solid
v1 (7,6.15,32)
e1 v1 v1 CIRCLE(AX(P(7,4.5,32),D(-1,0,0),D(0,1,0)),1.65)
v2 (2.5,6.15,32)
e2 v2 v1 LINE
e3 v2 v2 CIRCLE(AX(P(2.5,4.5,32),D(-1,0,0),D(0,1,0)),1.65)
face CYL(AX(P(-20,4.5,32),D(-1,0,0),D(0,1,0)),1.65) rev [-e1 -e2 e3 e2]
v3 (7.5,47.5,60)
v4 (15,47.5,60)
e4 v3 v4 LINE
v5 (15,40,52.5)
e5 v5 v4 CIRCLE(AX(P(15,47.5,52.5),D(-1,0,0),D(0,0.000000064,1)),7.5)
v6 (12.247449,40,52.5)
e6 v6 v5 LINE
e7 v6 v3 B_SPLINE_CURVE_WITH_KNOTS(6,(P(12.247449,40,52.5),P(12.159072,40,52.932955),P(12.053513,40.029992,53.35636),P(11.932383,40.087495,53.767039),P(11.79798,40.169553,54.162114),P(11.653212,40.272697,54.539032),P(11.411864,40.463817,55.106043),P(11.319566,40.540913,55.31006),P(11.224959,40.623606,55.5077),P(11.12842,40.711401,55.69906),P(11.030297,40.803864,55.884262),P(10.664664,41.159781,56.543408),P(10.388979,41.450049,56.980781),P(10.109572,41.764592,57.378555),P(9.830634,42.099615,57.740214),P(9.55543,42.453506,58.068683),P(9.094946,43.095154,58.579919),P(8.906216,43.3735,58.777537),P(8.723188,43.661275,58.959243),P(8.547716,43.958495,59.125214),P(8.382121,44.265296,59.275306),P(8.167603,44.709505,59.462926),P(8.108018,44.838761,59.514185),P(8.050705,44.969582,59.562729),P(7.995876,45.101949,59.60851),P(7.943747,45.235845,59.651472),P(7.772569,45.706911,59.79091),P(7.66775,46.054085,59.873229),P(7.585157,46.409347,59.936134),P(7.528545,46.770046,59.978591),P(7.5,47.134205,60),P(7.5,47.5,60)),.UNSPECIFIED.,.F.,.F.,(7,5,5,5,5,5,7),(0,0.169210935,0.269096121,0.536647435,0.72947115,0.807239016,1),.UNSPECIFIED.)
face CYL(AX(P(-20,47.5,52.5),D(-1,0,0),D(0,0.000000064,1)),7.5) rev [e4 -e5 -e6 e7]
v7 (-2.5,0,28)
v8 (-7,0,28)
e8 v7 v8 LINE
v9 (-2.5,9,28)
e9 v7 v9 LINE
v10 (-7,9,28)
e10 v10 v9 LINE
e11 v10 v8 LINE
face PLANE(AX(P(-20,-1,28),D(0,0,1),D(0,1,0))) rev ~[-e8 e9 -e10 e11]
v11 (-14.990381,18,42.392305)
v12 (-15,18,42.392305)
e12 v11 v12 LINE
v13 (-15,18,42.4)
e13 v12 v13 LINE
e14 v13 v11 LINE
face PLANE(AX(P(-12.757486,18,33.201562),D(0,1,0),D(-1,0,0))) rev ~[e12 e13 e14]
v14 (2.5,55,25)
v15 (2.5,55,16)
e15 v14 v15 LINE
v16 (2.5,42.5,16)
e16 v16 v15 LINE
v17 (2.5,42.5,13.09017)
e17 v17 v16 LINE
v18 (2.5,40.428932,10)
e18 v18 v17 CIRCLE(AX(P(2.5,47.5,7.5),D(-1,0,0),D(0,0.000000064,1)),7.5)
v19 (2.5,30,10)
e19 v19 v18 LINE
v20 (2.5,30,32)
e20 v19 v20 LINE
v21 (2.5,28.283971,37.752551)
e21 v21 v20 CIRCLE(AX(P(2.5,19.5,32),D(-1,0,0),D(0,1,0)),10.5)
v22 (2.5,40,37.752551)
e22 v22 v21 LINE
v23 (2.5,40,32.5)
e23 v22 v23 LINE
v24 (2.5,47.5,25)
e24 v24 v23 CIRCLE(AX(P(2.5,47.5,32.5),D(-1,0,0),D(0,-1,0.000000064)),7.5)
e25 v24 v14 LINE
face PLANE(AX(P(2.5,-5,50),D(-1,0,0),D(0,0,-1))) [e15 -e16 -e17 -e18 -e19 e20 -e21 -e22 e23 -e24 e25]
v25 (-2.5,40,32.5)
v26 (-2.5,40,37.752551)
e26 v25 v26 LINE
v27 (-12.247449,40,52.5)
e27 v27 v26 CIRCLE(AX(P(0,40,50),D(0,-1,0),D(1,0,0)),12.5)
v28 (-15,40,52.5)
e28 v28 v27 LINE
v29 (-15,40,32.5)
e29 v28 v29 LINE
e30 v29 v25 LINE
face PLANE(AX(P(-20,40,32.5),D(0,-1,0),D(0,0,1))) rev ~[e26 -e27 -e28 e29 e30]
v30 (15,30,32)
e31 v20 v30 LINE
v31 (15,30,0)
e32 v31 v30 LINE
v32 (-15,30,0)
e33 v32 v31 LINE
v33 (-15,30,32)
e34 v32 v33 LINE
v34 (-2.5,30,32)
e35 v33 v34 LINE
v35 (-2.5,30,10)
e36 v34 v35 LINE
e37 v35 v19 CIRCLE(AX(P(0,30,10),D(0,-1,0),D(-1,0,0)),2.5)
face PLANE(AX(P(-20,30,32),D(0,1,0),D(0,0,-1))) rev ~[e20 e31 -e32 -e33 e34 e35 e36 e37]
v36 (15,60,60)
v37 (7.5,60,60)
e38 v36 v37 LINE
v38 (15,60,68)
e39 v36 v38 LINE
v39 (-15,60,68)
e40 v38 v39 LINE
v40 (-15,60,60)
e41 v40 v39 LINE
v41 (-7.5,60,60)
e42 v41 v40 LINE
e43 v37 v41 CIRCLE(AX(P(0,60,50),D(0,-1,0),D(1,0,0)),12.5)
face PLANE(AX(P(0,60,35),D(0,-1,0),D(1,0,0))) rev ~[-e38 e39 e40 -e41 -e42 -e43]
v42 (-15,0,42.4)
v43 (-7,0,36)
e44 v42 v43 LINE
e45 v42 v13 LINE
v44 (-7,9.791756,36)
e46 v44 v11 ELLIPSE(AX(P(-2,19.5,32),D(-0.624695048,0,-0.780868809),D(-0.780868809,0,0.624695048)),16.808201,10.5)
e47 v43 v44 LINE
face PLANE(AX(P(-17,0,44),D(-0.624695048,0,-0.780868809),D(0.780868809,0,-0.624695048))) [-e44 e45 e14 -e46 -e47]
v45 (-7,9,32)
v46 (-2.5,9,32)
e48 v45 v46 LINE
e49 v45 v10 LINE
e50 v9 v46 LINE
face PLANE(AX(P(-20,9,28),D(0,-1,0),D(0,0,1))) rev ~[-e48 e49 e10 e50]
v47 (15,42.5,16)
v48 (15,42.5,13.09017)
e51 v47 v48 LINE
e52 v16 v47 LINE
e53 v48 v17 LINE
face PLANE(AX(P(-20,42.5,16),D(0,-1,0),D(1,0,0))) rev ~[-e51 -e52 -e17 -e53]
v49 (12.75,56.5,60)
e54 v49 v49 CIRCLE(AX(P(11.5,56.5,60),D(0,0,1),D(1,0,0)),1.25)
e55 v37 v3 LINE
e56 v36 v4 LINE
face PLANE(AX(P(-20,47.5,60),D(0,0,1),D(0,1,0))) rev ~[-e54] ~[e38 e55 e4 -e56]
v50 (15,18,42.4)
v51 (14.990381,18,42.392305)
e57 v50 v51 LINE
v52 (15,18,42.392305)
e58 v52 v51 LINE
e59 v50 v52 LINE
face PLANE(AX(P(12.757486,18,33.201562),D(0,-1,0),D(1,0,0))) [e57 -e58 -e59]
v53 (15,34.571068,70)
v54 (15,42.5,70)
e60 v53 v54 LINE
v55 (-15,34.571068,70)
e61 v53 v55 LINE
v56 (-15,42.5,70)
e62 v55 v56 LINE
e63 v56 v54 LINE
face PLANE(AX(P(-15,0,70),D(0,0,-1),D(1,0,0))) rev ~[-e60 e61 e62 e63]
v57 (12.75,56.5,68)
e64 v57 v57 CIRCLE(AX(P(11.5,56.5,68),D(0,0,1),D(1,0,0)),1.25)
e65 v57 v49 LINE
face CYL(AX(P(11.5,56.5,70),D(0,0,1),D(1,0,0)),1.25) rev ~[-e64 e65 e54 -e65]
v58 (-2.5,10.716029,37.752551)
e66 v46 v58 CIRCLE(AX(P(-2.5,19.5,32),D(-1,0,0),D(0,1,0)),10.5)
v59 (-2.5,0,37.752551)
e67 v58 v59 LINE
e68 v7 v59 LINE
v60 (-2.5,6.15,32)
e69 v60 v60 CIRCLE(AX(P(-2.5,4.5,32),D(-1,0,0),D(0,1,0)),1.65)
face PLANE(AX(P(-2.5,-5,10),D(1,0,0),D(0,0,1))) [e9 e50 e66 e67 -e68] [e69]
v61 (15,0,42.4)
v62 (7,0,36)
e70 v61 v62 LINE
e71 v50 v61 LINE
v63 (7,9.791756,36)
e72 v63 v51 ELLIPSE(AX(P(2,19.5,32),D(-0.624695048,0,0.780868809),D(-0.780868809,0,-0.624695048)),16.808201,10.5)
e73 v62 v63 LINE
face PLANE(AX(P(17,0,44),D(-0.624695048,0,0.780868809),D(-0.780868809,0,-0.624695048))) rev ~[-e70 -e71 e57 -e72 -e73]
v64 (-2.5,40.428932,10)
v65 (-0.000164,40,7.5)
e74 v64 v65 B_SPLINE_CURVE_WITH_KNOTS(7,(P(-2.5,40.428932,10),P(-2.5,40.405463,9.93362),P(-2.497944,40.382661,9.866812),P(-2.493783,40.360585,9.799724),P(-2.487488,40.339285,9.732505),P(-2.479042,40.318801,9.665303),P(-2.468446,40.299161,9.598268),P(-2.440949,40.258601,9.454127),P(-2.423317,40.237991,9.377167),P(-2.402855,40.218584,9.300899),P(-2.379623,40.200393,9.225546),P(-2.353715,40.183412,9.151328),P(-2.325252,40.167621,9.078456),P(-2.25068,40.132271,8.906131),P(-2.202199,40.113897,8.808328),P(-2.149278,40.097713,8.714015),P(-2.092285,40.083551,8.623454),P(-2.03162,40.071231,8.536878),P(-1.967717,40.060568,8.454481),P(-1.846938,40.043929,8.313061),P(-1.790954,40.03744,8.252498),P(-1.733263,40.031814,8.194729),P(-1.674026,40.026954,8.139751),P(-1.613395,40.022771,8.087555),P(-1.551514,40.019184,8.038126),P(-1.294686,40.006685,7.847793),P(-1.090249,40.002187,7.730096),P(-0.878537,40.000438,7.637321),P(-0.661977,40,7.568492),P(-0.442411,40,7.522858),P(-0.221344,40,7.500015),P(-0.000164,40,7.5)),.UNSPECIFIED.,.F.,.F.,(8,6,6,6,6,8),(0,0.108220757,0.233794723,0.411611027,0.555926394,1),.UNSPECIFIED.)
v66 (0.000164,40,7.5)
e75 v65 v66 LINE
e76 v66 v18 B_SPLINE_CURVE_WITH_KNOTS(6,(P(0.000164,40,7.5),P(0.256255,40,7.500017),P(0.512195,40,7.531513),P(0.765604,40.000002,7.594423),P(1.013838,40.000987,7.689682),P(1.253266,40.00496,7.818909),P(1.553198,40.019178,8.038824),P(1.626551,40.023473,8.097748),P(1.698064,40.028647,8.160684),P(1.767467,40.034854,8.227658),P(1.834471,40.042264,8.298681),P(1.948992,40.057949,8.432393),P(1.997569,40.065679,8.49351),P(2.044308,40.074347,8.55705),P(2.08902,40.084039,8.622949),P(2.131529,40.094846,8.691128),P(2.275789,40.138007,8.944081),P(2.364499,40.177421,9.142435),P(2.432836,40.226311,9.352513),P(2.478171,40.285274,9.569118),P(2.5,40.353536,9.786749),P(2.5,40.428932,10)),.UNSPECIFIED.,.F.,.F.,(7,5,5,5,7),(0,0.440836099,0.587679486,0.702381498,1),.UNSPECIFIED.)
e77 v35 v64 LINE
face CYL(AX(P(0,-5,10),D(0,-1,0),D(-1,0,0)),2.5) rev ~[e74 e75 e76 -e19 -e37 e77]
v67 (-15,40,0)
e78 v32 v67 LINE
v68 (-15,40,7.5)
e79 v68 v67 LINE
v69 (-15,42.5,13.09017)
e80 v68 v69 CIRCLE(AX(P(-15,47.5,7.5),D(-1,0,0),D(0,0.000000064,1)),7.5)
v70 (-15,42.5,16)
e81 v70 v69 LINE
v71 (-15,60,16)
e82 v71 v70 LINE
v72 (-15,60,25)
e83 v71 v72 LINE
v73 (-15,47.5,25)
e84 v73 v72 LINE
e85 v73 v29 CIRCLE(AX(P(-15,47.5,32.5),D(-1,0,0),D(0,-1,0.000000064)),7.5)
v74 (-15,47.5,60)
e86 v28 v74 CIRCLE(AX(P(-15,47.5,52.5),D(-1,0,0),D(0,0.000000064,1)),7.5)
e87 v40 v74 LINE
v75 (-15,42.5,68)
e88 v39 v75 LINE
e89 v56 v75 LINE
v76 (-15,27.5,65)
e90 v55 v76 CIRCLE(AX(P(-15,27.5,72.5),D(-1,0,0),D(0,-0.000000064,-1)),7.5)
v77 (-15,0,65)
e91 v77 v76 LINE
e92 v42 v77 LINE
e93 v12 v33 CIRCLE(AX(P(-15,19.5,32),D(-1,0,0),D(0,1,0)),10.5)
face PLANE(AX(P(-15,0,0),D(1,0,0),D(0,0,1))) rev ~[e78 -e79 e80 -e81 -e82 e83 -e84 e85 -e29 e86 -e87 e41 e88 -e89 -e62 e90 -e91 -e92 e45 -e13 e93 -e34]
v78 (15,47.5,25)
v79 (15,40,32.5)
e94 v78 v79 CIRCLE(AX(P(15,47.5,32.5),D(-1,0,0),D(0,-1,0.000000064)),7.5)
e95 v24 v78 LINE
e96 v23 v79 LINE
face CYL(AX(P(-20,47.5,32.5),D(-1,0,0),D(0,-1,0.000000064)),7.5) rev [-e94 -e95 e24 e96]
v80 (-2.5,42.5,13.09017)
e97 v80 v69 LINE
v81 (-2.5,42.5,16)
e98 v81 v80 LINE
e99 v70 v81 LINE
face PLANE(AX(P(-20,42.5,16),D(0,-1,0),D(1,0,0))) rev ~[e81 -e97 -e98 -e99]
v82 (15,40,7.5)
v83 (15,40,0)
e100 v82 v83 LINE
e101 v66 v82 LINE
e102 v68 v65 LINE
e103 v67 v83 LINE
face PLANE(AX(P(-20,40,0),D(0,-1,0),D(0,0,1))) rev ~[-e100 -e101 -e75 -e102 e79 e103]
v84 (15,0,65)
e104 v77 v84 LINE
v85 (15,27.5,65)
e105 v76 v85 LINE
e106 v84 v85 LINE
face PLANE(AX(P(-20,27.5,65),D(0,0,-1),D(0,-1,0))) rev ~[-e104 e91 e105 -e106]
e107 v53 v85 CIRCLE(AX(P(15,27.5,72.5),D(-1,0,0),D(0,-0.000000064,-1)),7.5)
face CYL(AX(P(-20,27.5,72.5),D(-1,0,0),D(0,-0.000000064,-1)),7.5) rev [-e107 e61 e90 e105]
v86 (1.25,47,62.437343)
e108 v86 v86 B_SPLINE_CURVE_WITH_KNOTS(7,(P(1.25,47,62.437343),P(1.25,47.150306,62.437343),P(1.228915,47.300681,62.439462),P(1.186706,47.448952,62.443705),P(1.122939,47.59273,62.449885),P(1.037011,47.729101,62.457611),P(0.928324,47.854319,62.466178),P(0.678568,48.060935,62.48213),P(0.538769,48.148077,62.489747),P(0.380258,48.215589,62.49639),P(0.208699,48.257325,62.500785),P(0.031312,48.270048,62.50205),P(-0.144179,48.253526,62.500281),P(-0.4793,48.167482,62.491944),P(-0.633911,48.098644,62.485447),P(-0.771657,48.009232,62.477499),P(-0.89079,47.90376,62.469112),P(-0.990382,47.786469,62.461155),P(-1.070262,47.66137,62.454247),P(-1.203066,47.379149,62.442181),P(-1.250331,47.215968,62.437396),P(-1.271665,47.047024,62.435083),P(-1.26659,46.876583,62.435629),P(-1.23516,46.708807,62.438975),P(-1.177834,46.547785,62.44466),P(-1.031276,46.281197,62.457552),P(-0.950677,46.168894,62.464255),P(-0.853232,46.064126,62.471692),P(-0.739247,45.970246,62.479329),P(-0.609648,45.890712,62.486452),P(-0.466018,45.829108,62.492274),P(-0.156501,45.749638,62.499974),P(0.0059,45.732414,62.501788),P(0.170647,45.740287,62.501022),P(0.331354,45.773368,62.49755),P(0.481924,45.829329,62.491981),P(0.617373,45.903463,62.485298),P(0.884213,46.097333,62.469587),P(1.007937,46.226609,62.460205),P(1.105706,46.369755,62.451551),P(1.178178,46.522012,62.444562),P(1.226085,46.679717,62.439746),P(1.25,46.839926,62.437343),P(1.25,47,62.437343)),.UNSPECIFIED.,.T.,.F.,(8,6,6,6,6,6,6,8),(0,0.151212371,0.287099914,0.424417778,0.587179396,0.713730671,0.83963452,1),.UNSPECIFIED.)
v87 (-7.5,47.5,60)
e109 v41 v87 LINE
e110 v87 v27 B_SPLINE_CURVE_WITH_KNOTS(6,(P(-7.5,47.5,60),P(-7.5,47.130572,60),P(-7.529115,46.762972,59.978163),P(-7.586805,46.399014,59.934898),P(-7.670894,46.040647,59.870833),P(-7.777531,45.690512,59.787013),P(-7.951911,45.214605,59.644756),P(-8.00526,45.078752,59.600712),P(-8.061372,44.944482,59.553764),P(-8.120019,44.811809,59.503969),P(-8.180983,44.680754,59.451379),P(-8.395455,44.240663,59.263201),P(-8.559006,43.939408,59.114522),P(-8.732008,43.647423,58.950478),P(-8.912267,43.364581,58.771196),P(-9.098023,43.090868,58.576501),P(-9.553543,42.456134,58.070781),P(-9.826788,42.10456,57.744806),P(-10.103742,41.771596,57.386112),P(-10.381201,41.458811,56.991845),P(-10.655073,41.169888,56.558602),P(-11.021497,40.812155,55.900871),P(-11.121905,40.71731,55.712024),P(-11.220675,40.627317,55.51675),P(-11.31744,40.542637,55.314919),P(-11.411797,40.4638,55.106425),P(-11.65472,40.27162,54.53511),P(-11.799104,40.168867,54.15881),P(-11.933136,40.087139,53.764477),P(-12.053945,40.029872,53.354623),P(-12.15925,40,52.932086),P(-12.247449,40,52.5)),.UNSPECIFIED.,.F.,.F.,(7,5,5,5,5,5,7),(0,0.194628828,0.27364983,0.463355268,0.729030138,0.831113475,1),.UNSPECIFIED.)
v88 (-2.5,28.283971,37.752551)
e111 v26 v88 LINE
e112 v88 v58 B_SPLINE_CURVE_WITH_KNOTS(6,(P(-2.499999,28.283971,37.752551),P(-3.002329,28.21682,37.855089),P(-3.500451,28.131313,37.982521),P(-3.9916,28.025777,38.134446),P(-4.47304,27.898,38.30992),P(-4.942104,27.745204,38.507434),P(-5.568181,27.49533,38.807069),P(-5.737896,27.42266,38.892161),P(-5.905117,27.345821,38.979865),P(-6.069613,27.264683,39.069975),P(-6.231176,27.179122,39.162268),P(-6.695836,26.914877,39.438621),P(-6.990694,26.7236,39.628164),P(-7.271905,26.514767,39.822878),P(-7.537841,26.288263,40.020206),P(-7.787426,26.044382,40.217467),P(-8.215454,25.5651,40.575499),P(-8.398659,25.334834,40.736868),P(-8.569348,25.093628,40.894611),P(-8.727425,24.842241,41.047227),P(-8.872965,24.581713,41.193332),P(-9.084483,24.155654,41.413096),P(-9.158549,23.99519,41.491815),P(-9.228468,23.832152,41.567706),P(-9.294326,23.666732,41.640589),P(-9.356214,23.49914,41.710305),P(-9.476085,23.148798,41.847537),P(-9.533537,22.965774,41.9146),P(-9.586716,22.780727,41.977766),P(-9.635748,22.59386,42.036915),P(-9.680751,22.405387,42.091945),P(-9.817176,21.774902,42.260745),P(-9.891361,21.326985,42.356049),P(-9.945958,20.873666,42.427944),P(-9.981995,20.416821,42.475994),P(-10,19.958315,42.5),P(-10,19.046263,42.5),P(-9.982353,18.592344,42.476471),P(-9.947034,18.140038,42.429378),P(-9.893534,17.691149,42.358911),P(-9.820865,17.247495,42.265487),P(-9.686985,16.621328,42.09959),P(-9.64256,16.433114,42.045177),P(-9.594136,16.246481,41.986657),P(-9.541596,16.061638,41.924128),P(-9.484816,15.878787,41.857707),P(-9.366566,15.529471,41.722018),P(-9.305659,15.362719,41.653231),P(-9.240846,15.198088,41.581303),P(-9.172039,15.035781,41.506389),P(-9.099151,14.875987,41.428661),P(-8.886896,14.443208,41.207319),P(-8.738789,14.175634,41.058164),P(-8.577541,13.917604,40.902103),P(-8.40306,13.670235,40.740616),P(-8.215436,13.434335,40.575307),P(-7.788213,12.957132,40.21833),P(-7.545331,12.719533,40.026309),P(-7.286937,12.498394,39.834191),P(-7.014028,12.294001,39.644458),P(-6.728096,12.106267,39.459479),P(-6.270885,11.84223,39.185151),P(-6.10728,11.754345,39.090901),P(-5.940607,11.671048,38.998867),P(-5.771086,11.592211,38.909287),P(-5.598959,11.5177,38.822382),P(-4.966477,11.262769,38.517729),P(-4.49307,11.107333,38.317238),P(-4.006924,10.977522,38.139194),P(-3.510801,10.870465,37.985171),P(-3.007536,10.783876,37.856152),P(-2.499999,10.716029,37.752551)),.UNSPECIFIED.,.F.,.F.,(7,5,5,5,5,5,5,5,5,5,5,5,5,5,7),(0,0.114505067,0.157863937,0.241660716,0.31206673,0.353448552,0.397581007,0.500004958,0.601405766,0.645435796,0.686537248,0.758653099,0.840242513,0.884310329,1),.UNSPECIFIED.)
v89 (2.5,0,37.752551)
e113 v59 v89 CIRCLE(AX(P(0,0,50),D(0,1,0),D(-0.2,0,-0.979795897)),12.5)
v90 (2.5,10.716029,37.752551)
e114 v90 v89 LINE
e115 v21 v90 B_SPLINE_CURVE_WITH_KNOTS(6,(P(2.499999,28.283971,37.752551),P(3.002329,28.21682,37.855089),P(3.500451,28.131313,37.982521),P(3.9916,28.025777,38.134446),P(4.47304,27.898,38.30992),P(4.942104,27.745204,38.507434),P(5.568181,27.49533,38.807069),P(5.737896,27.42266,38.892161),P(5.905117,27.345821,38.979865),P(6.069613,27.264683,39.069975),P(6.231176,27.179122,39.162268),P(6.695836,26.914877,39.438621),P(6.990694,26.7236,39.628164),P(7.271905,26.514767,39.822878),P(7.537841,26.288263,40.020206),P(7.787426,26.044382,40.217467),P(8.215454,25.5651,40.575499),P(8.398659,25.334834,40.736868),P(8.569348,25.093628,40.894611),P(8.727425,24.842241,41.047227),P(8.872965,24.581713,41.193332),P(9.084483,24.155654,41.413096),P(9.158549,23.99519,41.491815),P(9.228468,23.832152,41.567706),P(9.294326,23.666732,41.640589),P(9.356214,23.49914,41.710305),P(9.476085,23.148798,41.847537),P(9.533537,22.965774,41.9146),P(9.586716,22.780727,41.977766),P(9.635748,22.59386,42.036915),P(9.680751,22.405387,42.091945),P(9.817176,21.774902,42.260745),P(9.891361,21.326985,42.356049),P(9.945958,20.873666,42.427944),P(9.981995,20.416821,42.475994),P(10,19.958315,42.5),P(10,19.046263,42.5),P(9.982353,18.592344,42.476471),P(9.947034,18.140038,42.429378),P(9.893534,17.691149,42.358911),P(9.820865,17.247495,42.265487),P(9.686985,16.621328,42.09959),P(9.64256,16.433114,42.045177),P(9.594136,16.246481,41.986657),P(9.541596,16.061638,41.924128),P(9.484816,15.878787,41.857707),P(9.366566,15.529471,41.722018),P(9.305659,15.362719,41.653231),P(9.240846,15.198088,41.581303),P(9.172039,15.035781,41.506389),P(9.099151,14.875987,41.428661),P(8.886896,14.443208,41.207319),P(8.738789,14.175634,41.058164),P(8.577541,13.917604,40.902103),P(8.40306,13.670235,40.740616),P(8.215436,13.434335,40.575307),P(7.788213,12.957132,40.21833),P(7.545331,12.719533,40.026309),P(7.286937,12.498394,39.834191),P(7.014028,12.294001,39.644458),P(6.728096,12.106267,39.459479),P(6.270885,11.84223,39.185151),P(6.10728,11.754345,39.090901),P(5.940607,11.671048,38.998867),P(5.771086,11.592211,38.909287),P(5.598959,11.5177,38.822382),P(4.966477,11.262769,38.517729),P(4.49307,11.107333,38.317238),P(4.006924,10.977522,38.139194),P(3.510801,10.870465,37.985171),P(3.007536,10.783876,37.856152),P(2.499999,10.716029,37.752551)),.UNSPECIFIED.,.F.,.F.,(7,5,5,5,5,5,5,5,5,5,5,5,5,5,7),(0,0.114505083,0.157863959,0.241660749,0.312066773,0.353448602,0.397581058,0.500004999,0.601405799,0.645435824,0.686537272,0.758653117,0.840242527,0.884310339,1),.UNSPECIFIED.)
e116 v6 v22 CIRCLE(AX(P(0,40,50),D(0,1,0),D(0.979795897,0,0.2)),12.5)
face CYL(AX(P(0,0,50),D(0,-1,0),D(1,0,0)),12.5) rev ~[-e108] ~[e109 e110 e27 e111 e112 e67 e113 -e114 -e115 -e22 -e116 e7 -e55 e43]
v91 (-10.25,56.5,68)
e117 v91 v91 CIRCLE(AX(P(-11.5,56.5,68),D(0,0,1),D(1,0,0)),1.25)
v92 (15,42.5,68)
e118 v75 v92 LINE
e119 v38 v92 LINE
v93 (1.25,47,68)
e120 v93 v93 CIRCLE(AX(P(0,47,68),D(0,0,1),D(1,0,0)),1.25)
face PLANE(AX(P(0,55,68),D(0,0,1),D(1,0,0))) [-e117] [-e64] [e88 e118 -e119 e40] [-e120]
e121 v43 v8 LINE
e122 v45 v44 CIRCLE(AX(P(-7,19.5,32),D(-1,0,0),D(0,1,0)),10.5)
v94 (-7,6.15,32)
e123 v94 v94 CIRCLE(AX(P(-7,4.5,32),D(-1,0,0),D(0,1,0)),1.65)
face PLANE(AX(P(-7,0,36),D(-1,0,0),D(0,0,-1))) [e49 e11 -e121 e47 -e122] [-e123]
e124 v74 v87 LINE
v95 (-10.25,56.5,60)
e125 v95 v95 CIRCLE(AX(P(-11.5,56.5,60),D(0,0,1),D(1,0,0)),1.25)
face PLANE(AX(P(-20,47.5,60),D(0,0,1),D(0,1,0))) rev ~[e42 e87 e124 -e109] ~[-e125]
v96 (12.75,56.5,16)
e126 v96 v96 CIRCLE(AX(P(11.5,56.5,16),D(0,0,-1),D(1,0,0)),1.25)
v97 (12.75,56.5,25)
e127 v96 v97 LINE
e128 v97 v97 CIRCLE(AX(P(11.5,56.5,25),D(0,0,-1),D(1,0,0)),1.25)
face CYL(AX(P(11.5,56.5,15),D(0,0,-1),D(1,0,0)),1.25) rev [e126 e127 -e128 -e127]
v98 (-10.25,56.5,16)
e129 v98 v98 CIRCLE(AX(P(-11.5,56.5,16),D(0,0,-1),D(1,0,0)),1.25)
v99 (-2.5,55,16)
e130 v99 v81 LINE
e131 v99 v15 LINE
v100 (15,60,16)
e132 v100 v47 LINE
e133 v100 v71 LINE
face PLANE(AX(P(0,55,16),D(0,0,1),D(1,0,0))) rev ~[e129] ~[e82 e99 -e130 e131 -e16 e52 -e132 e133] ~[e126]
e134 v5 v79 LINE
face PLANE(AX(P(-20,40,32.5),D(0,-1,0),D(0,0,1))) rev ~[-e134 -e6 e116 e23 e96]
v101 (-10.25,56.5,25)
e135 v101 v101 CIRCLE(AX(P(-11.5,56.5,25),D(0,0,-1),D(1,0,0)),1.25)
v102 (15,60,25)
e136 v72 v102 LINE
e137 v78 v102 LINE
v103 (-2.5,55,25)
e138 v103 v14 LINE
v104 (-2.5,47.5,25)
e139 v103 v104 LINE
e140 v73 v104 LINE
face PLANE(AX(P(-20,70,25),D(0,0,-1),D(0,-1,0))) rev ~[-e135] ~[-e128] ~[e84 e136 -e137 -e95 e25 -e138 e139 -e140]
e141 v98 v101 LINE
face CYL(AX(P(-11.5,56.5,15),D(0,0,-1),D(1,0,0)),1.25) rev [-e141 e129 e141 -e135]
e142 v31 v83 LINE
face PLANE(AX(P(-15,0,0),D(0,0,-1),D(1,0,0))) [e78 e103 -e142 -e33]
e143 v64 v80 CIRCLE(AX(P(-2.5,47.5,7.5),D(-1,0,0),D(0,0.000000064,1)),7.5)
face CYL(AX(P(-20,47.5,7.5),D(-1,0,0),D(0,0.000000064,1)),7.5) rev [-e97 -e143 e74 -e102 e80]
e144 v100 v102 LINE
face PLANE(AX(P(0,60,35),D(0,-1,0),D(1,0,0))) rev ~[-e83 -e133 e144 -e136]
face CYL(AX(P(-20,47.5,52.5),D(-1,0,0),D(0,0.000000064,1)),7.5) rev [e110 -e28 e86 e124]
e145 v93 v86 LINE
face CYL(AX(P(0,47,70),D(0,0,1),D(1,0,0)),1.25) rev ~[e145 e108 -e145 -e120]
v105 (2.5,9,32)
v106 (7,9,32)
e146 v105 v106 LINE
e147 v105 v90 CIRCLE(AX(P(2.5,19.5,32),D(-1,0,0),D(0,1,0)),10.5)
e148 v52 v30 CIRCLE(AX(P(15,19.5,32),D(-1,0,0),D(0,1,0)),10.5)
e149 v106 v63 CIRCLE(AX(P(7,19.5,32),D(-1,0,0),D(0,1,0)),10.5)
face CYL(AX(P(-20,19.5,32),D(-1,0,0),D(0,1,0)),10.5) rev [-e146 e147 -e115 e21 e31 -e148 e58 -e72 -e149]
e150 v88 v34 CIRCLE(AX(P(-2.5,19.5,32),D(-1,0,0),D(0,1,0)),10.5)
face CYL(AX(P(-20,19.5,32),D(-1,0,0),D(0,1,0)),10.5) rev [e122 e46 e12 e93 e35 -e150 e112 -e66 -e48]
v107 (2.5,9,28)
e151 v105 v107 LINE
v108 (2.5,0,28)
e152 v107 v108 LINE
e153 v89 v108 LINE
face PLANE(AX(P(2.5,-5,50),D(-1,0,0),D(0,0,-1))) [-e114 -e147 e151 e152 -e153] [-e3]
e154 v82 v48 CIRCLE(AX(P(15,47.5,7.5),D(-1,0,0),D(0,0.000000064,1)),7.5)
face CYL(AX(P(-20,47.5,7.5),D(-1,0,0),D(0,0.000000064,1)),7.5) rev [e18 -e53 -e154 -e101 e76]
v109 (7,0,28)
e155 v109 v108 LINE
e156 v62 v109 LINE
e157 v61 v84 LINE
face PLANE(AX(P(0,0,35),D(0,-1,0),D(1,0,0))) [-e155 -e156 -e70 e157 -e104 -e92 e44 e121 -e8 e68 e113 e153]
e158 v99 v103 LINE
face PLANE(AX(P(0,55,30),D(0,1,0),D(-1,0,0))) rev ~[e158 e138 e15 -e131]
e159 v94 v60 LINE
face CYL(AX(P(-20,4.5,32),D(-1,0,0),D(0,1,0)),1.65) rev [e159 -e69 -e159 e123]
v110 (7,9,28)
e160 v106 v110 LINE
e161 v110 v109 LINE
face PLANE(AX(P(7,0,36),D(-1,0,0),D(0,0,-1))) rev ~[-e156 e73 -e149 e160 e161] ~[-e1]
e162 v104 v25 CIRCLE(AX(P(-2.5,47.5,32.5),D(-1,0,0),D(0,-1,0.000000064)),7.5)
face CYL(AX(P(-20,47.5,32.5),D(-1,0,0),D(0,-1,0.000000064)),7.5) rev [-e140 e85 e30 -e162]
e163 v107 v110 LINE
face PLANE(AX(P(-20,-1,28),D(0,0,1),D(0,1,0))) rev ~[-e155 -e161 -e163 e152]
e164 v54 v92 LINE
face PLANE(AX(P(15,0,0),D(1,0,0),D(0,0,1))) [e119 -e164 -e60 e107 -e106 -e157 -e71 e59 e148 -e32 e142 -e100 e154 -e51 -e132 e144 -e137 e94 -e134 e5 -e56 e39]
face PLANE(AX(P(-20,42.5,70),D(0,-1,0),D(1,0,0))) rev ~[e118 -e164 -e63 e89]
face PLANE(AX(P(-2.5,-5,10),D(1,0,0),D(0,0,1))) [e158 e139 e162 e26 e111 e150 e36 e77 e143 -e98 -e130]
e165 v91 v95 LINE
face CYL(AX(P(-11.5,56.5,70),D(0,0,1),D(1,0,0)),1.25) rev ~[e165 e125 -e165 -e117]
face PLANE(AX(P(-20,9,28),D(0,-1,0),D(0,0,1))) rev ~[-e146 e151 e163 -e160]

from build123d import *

# Parameters (mm, degrees)
SKETCH013_R                          = 1.25
EXTRUDE009_DEPTH                     = 12
SKETCH012_R                          = 1.25
EXTRUDE008_DEPTH                     = 15
SKETCH011_W                          = 40
SKETCH011_H                          = 25
EXTRUDE007_DEPTH                     = 5
SKETCH010_W                          = 40
SKETCH010_H                          = 25
EXTRUDE006_DEPTH                     = 2
EXTRUDE004_DEPTH                     = 18
EXTRUDE004_ONTO_SKETCH007_ROLL_ANGLE = 90
SKETCH006_AS_DRAWN_R                 = 12.5
EXTRUDE003_DEPTH                     = 65
EXTRUDE003_ONTO_SKETCH006_ROLL_ANGLE = 90
EXTRUDE002_DEPTH                     = 60
EXTRUDE002_ONTO_SKETCH005_ROLL_ANGLE = 90
SKETCH004_R                          = 1.65
EXTRUDE_DEPTH                        = 40
SKETCH_AS_DRAWN_W                    = 30
SKETCH_AS_DRAWN_H                    = 70
EXTRUDE001_DEPTH                     = 60
EXTRUDE001_ONTO_SKETCH_ROLL_ANGLE    = 90


with BuildPart() as extrude009:
    # Sketch013 → Extrude009 (new body)
    with BuildSketch(Plane.XY.offset(15)):
        with Locations((11.5, 56.5)):
            Circle(SKETCH013_R)
        with Locations((-11.5, 56.5)):
            Circle(SKETCH013_R)
    extrude(amount=EXTRUDE009_DEPTH)


with BuildPart() as extrude008:
    # Sketch012 → Extrude008 (new body)
    with BuildSketch(Plane.XY.offset(70)):
        with Locations((0, 47)):
            Circle(SKETCH012_R)
        with Locations((11.5, 56.5)):
            Circle(SKETCH012_R)
        with Locations((-11.5, 56.5)):
            Circle(SKETCH012_R)
    extrude(amount=-EXTRUDE008_DEPTH)


with BuildPart() as extrude007:
    # Sketch011 → Extrude007 (new body)
    with BuildSketch(Plane(origin=(0, 35, 16), x_dir=(1, 0, 0), z_dir=(0, 0, 1))):
        with Locations((0, 20)):
            Rectangle(SKETCH011_W, SKETCH011_H)
    extrude(amount=-EXTRUDE007_DEPTH)


with BuildPart() as extrude006:
    # Sketch010 → Extrude006 (new body)
    with BuildSketch(Plane(origin=(0, 35, 70), x_dir=(1, 0, 0), z_dir=(0, 0, 1))):
        with Locations((0, 20)):
            Rectangle(SKETCH010_W, SKETCH010_H)
    extrude(amount=-EXTRUDE006_DEPTH)


with BuildPart() as extrude004:
    # Sketch007 as drawn → Extrude004 (new)
    with BuildSketch(Plane.XY):
        Polygon((17, 44), (7, 36), (7, 25), (17, 25), align=None)
        Polygon((-17, 44), (-7, 36), (-7, 25), (-17, 25), align=None)
    extrude(amount=-EXTRUDE004_DEPTH)


with BuildPart() as extrude004_1:
    # Extrude004 onto Sketch007 roll: moved
    add(extrude004.part.rotate(Axis((0, 0, 0), (1, 0, 0)), EXTRUDE004_ONTO_SKETCH007_ROLL_ANGLE))


with BuildPart() as extrude004_2:
    # Extrude004 onto Sketch007 placement: moved
    add(extrude004_1.part)


with BuildPart() as extrude003:
    # Sketch006 as drawn → Extrude003 (new)
    with BuildSketch(Plane.XY):
        with Locations((0, 50)):
            Circle(SKETCH006_AS_DRAWN_R)
    extrude(amount=-EXTRUDE003_DEPTH)


with BuildPart() as extrude003_1:
    # Extrude003 onto Sketch006 roll: moved
    add(extrude003.part.rotate(Axis((0, 0, 0), (1, 0, 0)), EXTRUDE003_ONTO_SKETCH006_ROLL_ANGLE))


with BuildPart() as extrude003_2:
    # Extrude003 onto Sketch006 placement: moved
    add(extrude003_1.part)


with BuildPart() as extrude002:
    # Sketch005 as drawn → Extrude002 (new)
    with BuildSketch(Plane.XY):
        with BuildLine():
            Line((2.5, 50), (2.5, 10))
            ThreePointArc((-2.5, 10), (0, 7.5), (2.5, 10))
            Line((-2.5, 10), (-2.5, 50))
            ThreePointArc((2.5, 50), (0, 52.5), (-2.5, 50))
        make_face()
    extrude(amount=-EXTRUDE002_DEPTH)


with BuildPart() as extrude002_1:
    # Extrude002 onto Sketch005 roll: moved
    add(extrude002.part.rotate(Axis((0, 0, 0), (1, 0, 0)), EXTRUDE002_ONTO_SKETCH005_ROLL_ANGLE))


with BuildPart() as extrude002_2:
    # Extrude002 onto Sketch005 placement: moved
    add(extrude002_1.part.moved(Location((0, -5, 0))))


with BuildPart() as extrude_cut_xy:
    # Sketch004 → Extrude (new body)
    with BuildSketch(Plane(origin=(0, 40, 0), x_dir=(0, 1, 0), z_dir=(1, 0, 0))):
        with Locations((-35.5, 32)):
            Circle(SKETCH004_R)
        with BuildLine():
            Line((7.5, 15), (30, 15))
            Line((30, 15), (30, 0))
            Line((30, 0), (0, 0))
            Line((0, 0), (0, 7.5))
            ThreePointArc((7.5, 15), (2.196699, 12.803301), (0, 7.5))
        make_face()
        with BuildLine():
            Line((7.5, 60), (30, 60))
            Line((30, 60), (30, 25))
            Line((30, 25), (7.5, 25))
            ThreePointArc((0, 32.5), (2.196699, 27.196699), (7.5, 25))
            Line((0, 32.5), (0, 52.5))
            ThreePointArc((7.5, 60), (2.196699, 57.803301), (0, 52.5))
        make_face()
        with BuildLine():
            Line((-10, 32), (-10, 0))
            Line((-10, 0), (-41, 0))
            Line((-41, 0), (-41, 28))
            Line((-41, 28), (-31, 28))
            Line((-31, 28), (-31, 32))
            ThreePointArc((-10, 32), (-20.5, 42.5), (-31, 32))
        make_face()
        with BuildLine():
            Line((-41, 80), (-5, 80))
            Line((-5, 80), (-5, 72.5))
            ThreePointArc((-12.5, 65), (-7.196699, 67.196699), (-5, 72.5))
            Line((-12.5, 65), (-41, 65))
            Line((-41, 65), (-41, 80))
        make_face()
    extrude(amount=EXTRUDE_DEPTH)


with BuildPart() as extrude_cut_xy_1:
    # Extrude placement: moved
    add(extrude_cut_xy.part.moved(Location((-20, 0, 0))))


with BuildPart() as cut007:
    # Sketch as drawn → Extrude001 (new)
    with BuildSketch(Plane.XY):
        with Locations((0, 35)):
            Rectangle(SKETCH_AS_DRAWN_W, SKETCH_AS_DRAWN_H)
    extrude(amount=-EXTRUDE001_DEPTH)


with BuildPart() as cut007_1:
    # Extrude001 onto Sketch roll: moved
    add(cut007.part.rotate(Axis((0, 0, 0), (1, 0, 0)), EXTRUDE001_ONTO_SKETCH_ROLL_ANGLE))


with BuildPart() as cut007_2:
    # Extrude001 onto Sketch placement: moved
    add(cut007_1.part)

    # Cut: cut extrude-cut-xy
    add(extrude_cut_xy_1.part, mode=Mode.SUBTRACT)

    # Cut001: cut Extrude002
    add(extrude002_2.part, mode=Mode.SUBTRACT)

    # Cut002: cut Extrude003
    add(extrude003_2.part, mode=Mode.SUBTRACT)

    # Cut003: cut Extrude004
    add(extrude004_2.part, mode=Mode.SUBTRACT)

    # Cut004: cut Extrude006
    add(extrude006.part, mode=Mode.SUBTRACT)

    # Cut005: cut Extrude007
    add(extrude007.part, mode=Mode.SUBTRACT)

    # Cut006: cut Extrude008
    add(extrude008.part, mode=Mode.SUBTRACT)

    # Cut007: cut Extrude009
    add(extrude009.part, mode=Mode.SUBTRACT)


solid = cut007_2.part
